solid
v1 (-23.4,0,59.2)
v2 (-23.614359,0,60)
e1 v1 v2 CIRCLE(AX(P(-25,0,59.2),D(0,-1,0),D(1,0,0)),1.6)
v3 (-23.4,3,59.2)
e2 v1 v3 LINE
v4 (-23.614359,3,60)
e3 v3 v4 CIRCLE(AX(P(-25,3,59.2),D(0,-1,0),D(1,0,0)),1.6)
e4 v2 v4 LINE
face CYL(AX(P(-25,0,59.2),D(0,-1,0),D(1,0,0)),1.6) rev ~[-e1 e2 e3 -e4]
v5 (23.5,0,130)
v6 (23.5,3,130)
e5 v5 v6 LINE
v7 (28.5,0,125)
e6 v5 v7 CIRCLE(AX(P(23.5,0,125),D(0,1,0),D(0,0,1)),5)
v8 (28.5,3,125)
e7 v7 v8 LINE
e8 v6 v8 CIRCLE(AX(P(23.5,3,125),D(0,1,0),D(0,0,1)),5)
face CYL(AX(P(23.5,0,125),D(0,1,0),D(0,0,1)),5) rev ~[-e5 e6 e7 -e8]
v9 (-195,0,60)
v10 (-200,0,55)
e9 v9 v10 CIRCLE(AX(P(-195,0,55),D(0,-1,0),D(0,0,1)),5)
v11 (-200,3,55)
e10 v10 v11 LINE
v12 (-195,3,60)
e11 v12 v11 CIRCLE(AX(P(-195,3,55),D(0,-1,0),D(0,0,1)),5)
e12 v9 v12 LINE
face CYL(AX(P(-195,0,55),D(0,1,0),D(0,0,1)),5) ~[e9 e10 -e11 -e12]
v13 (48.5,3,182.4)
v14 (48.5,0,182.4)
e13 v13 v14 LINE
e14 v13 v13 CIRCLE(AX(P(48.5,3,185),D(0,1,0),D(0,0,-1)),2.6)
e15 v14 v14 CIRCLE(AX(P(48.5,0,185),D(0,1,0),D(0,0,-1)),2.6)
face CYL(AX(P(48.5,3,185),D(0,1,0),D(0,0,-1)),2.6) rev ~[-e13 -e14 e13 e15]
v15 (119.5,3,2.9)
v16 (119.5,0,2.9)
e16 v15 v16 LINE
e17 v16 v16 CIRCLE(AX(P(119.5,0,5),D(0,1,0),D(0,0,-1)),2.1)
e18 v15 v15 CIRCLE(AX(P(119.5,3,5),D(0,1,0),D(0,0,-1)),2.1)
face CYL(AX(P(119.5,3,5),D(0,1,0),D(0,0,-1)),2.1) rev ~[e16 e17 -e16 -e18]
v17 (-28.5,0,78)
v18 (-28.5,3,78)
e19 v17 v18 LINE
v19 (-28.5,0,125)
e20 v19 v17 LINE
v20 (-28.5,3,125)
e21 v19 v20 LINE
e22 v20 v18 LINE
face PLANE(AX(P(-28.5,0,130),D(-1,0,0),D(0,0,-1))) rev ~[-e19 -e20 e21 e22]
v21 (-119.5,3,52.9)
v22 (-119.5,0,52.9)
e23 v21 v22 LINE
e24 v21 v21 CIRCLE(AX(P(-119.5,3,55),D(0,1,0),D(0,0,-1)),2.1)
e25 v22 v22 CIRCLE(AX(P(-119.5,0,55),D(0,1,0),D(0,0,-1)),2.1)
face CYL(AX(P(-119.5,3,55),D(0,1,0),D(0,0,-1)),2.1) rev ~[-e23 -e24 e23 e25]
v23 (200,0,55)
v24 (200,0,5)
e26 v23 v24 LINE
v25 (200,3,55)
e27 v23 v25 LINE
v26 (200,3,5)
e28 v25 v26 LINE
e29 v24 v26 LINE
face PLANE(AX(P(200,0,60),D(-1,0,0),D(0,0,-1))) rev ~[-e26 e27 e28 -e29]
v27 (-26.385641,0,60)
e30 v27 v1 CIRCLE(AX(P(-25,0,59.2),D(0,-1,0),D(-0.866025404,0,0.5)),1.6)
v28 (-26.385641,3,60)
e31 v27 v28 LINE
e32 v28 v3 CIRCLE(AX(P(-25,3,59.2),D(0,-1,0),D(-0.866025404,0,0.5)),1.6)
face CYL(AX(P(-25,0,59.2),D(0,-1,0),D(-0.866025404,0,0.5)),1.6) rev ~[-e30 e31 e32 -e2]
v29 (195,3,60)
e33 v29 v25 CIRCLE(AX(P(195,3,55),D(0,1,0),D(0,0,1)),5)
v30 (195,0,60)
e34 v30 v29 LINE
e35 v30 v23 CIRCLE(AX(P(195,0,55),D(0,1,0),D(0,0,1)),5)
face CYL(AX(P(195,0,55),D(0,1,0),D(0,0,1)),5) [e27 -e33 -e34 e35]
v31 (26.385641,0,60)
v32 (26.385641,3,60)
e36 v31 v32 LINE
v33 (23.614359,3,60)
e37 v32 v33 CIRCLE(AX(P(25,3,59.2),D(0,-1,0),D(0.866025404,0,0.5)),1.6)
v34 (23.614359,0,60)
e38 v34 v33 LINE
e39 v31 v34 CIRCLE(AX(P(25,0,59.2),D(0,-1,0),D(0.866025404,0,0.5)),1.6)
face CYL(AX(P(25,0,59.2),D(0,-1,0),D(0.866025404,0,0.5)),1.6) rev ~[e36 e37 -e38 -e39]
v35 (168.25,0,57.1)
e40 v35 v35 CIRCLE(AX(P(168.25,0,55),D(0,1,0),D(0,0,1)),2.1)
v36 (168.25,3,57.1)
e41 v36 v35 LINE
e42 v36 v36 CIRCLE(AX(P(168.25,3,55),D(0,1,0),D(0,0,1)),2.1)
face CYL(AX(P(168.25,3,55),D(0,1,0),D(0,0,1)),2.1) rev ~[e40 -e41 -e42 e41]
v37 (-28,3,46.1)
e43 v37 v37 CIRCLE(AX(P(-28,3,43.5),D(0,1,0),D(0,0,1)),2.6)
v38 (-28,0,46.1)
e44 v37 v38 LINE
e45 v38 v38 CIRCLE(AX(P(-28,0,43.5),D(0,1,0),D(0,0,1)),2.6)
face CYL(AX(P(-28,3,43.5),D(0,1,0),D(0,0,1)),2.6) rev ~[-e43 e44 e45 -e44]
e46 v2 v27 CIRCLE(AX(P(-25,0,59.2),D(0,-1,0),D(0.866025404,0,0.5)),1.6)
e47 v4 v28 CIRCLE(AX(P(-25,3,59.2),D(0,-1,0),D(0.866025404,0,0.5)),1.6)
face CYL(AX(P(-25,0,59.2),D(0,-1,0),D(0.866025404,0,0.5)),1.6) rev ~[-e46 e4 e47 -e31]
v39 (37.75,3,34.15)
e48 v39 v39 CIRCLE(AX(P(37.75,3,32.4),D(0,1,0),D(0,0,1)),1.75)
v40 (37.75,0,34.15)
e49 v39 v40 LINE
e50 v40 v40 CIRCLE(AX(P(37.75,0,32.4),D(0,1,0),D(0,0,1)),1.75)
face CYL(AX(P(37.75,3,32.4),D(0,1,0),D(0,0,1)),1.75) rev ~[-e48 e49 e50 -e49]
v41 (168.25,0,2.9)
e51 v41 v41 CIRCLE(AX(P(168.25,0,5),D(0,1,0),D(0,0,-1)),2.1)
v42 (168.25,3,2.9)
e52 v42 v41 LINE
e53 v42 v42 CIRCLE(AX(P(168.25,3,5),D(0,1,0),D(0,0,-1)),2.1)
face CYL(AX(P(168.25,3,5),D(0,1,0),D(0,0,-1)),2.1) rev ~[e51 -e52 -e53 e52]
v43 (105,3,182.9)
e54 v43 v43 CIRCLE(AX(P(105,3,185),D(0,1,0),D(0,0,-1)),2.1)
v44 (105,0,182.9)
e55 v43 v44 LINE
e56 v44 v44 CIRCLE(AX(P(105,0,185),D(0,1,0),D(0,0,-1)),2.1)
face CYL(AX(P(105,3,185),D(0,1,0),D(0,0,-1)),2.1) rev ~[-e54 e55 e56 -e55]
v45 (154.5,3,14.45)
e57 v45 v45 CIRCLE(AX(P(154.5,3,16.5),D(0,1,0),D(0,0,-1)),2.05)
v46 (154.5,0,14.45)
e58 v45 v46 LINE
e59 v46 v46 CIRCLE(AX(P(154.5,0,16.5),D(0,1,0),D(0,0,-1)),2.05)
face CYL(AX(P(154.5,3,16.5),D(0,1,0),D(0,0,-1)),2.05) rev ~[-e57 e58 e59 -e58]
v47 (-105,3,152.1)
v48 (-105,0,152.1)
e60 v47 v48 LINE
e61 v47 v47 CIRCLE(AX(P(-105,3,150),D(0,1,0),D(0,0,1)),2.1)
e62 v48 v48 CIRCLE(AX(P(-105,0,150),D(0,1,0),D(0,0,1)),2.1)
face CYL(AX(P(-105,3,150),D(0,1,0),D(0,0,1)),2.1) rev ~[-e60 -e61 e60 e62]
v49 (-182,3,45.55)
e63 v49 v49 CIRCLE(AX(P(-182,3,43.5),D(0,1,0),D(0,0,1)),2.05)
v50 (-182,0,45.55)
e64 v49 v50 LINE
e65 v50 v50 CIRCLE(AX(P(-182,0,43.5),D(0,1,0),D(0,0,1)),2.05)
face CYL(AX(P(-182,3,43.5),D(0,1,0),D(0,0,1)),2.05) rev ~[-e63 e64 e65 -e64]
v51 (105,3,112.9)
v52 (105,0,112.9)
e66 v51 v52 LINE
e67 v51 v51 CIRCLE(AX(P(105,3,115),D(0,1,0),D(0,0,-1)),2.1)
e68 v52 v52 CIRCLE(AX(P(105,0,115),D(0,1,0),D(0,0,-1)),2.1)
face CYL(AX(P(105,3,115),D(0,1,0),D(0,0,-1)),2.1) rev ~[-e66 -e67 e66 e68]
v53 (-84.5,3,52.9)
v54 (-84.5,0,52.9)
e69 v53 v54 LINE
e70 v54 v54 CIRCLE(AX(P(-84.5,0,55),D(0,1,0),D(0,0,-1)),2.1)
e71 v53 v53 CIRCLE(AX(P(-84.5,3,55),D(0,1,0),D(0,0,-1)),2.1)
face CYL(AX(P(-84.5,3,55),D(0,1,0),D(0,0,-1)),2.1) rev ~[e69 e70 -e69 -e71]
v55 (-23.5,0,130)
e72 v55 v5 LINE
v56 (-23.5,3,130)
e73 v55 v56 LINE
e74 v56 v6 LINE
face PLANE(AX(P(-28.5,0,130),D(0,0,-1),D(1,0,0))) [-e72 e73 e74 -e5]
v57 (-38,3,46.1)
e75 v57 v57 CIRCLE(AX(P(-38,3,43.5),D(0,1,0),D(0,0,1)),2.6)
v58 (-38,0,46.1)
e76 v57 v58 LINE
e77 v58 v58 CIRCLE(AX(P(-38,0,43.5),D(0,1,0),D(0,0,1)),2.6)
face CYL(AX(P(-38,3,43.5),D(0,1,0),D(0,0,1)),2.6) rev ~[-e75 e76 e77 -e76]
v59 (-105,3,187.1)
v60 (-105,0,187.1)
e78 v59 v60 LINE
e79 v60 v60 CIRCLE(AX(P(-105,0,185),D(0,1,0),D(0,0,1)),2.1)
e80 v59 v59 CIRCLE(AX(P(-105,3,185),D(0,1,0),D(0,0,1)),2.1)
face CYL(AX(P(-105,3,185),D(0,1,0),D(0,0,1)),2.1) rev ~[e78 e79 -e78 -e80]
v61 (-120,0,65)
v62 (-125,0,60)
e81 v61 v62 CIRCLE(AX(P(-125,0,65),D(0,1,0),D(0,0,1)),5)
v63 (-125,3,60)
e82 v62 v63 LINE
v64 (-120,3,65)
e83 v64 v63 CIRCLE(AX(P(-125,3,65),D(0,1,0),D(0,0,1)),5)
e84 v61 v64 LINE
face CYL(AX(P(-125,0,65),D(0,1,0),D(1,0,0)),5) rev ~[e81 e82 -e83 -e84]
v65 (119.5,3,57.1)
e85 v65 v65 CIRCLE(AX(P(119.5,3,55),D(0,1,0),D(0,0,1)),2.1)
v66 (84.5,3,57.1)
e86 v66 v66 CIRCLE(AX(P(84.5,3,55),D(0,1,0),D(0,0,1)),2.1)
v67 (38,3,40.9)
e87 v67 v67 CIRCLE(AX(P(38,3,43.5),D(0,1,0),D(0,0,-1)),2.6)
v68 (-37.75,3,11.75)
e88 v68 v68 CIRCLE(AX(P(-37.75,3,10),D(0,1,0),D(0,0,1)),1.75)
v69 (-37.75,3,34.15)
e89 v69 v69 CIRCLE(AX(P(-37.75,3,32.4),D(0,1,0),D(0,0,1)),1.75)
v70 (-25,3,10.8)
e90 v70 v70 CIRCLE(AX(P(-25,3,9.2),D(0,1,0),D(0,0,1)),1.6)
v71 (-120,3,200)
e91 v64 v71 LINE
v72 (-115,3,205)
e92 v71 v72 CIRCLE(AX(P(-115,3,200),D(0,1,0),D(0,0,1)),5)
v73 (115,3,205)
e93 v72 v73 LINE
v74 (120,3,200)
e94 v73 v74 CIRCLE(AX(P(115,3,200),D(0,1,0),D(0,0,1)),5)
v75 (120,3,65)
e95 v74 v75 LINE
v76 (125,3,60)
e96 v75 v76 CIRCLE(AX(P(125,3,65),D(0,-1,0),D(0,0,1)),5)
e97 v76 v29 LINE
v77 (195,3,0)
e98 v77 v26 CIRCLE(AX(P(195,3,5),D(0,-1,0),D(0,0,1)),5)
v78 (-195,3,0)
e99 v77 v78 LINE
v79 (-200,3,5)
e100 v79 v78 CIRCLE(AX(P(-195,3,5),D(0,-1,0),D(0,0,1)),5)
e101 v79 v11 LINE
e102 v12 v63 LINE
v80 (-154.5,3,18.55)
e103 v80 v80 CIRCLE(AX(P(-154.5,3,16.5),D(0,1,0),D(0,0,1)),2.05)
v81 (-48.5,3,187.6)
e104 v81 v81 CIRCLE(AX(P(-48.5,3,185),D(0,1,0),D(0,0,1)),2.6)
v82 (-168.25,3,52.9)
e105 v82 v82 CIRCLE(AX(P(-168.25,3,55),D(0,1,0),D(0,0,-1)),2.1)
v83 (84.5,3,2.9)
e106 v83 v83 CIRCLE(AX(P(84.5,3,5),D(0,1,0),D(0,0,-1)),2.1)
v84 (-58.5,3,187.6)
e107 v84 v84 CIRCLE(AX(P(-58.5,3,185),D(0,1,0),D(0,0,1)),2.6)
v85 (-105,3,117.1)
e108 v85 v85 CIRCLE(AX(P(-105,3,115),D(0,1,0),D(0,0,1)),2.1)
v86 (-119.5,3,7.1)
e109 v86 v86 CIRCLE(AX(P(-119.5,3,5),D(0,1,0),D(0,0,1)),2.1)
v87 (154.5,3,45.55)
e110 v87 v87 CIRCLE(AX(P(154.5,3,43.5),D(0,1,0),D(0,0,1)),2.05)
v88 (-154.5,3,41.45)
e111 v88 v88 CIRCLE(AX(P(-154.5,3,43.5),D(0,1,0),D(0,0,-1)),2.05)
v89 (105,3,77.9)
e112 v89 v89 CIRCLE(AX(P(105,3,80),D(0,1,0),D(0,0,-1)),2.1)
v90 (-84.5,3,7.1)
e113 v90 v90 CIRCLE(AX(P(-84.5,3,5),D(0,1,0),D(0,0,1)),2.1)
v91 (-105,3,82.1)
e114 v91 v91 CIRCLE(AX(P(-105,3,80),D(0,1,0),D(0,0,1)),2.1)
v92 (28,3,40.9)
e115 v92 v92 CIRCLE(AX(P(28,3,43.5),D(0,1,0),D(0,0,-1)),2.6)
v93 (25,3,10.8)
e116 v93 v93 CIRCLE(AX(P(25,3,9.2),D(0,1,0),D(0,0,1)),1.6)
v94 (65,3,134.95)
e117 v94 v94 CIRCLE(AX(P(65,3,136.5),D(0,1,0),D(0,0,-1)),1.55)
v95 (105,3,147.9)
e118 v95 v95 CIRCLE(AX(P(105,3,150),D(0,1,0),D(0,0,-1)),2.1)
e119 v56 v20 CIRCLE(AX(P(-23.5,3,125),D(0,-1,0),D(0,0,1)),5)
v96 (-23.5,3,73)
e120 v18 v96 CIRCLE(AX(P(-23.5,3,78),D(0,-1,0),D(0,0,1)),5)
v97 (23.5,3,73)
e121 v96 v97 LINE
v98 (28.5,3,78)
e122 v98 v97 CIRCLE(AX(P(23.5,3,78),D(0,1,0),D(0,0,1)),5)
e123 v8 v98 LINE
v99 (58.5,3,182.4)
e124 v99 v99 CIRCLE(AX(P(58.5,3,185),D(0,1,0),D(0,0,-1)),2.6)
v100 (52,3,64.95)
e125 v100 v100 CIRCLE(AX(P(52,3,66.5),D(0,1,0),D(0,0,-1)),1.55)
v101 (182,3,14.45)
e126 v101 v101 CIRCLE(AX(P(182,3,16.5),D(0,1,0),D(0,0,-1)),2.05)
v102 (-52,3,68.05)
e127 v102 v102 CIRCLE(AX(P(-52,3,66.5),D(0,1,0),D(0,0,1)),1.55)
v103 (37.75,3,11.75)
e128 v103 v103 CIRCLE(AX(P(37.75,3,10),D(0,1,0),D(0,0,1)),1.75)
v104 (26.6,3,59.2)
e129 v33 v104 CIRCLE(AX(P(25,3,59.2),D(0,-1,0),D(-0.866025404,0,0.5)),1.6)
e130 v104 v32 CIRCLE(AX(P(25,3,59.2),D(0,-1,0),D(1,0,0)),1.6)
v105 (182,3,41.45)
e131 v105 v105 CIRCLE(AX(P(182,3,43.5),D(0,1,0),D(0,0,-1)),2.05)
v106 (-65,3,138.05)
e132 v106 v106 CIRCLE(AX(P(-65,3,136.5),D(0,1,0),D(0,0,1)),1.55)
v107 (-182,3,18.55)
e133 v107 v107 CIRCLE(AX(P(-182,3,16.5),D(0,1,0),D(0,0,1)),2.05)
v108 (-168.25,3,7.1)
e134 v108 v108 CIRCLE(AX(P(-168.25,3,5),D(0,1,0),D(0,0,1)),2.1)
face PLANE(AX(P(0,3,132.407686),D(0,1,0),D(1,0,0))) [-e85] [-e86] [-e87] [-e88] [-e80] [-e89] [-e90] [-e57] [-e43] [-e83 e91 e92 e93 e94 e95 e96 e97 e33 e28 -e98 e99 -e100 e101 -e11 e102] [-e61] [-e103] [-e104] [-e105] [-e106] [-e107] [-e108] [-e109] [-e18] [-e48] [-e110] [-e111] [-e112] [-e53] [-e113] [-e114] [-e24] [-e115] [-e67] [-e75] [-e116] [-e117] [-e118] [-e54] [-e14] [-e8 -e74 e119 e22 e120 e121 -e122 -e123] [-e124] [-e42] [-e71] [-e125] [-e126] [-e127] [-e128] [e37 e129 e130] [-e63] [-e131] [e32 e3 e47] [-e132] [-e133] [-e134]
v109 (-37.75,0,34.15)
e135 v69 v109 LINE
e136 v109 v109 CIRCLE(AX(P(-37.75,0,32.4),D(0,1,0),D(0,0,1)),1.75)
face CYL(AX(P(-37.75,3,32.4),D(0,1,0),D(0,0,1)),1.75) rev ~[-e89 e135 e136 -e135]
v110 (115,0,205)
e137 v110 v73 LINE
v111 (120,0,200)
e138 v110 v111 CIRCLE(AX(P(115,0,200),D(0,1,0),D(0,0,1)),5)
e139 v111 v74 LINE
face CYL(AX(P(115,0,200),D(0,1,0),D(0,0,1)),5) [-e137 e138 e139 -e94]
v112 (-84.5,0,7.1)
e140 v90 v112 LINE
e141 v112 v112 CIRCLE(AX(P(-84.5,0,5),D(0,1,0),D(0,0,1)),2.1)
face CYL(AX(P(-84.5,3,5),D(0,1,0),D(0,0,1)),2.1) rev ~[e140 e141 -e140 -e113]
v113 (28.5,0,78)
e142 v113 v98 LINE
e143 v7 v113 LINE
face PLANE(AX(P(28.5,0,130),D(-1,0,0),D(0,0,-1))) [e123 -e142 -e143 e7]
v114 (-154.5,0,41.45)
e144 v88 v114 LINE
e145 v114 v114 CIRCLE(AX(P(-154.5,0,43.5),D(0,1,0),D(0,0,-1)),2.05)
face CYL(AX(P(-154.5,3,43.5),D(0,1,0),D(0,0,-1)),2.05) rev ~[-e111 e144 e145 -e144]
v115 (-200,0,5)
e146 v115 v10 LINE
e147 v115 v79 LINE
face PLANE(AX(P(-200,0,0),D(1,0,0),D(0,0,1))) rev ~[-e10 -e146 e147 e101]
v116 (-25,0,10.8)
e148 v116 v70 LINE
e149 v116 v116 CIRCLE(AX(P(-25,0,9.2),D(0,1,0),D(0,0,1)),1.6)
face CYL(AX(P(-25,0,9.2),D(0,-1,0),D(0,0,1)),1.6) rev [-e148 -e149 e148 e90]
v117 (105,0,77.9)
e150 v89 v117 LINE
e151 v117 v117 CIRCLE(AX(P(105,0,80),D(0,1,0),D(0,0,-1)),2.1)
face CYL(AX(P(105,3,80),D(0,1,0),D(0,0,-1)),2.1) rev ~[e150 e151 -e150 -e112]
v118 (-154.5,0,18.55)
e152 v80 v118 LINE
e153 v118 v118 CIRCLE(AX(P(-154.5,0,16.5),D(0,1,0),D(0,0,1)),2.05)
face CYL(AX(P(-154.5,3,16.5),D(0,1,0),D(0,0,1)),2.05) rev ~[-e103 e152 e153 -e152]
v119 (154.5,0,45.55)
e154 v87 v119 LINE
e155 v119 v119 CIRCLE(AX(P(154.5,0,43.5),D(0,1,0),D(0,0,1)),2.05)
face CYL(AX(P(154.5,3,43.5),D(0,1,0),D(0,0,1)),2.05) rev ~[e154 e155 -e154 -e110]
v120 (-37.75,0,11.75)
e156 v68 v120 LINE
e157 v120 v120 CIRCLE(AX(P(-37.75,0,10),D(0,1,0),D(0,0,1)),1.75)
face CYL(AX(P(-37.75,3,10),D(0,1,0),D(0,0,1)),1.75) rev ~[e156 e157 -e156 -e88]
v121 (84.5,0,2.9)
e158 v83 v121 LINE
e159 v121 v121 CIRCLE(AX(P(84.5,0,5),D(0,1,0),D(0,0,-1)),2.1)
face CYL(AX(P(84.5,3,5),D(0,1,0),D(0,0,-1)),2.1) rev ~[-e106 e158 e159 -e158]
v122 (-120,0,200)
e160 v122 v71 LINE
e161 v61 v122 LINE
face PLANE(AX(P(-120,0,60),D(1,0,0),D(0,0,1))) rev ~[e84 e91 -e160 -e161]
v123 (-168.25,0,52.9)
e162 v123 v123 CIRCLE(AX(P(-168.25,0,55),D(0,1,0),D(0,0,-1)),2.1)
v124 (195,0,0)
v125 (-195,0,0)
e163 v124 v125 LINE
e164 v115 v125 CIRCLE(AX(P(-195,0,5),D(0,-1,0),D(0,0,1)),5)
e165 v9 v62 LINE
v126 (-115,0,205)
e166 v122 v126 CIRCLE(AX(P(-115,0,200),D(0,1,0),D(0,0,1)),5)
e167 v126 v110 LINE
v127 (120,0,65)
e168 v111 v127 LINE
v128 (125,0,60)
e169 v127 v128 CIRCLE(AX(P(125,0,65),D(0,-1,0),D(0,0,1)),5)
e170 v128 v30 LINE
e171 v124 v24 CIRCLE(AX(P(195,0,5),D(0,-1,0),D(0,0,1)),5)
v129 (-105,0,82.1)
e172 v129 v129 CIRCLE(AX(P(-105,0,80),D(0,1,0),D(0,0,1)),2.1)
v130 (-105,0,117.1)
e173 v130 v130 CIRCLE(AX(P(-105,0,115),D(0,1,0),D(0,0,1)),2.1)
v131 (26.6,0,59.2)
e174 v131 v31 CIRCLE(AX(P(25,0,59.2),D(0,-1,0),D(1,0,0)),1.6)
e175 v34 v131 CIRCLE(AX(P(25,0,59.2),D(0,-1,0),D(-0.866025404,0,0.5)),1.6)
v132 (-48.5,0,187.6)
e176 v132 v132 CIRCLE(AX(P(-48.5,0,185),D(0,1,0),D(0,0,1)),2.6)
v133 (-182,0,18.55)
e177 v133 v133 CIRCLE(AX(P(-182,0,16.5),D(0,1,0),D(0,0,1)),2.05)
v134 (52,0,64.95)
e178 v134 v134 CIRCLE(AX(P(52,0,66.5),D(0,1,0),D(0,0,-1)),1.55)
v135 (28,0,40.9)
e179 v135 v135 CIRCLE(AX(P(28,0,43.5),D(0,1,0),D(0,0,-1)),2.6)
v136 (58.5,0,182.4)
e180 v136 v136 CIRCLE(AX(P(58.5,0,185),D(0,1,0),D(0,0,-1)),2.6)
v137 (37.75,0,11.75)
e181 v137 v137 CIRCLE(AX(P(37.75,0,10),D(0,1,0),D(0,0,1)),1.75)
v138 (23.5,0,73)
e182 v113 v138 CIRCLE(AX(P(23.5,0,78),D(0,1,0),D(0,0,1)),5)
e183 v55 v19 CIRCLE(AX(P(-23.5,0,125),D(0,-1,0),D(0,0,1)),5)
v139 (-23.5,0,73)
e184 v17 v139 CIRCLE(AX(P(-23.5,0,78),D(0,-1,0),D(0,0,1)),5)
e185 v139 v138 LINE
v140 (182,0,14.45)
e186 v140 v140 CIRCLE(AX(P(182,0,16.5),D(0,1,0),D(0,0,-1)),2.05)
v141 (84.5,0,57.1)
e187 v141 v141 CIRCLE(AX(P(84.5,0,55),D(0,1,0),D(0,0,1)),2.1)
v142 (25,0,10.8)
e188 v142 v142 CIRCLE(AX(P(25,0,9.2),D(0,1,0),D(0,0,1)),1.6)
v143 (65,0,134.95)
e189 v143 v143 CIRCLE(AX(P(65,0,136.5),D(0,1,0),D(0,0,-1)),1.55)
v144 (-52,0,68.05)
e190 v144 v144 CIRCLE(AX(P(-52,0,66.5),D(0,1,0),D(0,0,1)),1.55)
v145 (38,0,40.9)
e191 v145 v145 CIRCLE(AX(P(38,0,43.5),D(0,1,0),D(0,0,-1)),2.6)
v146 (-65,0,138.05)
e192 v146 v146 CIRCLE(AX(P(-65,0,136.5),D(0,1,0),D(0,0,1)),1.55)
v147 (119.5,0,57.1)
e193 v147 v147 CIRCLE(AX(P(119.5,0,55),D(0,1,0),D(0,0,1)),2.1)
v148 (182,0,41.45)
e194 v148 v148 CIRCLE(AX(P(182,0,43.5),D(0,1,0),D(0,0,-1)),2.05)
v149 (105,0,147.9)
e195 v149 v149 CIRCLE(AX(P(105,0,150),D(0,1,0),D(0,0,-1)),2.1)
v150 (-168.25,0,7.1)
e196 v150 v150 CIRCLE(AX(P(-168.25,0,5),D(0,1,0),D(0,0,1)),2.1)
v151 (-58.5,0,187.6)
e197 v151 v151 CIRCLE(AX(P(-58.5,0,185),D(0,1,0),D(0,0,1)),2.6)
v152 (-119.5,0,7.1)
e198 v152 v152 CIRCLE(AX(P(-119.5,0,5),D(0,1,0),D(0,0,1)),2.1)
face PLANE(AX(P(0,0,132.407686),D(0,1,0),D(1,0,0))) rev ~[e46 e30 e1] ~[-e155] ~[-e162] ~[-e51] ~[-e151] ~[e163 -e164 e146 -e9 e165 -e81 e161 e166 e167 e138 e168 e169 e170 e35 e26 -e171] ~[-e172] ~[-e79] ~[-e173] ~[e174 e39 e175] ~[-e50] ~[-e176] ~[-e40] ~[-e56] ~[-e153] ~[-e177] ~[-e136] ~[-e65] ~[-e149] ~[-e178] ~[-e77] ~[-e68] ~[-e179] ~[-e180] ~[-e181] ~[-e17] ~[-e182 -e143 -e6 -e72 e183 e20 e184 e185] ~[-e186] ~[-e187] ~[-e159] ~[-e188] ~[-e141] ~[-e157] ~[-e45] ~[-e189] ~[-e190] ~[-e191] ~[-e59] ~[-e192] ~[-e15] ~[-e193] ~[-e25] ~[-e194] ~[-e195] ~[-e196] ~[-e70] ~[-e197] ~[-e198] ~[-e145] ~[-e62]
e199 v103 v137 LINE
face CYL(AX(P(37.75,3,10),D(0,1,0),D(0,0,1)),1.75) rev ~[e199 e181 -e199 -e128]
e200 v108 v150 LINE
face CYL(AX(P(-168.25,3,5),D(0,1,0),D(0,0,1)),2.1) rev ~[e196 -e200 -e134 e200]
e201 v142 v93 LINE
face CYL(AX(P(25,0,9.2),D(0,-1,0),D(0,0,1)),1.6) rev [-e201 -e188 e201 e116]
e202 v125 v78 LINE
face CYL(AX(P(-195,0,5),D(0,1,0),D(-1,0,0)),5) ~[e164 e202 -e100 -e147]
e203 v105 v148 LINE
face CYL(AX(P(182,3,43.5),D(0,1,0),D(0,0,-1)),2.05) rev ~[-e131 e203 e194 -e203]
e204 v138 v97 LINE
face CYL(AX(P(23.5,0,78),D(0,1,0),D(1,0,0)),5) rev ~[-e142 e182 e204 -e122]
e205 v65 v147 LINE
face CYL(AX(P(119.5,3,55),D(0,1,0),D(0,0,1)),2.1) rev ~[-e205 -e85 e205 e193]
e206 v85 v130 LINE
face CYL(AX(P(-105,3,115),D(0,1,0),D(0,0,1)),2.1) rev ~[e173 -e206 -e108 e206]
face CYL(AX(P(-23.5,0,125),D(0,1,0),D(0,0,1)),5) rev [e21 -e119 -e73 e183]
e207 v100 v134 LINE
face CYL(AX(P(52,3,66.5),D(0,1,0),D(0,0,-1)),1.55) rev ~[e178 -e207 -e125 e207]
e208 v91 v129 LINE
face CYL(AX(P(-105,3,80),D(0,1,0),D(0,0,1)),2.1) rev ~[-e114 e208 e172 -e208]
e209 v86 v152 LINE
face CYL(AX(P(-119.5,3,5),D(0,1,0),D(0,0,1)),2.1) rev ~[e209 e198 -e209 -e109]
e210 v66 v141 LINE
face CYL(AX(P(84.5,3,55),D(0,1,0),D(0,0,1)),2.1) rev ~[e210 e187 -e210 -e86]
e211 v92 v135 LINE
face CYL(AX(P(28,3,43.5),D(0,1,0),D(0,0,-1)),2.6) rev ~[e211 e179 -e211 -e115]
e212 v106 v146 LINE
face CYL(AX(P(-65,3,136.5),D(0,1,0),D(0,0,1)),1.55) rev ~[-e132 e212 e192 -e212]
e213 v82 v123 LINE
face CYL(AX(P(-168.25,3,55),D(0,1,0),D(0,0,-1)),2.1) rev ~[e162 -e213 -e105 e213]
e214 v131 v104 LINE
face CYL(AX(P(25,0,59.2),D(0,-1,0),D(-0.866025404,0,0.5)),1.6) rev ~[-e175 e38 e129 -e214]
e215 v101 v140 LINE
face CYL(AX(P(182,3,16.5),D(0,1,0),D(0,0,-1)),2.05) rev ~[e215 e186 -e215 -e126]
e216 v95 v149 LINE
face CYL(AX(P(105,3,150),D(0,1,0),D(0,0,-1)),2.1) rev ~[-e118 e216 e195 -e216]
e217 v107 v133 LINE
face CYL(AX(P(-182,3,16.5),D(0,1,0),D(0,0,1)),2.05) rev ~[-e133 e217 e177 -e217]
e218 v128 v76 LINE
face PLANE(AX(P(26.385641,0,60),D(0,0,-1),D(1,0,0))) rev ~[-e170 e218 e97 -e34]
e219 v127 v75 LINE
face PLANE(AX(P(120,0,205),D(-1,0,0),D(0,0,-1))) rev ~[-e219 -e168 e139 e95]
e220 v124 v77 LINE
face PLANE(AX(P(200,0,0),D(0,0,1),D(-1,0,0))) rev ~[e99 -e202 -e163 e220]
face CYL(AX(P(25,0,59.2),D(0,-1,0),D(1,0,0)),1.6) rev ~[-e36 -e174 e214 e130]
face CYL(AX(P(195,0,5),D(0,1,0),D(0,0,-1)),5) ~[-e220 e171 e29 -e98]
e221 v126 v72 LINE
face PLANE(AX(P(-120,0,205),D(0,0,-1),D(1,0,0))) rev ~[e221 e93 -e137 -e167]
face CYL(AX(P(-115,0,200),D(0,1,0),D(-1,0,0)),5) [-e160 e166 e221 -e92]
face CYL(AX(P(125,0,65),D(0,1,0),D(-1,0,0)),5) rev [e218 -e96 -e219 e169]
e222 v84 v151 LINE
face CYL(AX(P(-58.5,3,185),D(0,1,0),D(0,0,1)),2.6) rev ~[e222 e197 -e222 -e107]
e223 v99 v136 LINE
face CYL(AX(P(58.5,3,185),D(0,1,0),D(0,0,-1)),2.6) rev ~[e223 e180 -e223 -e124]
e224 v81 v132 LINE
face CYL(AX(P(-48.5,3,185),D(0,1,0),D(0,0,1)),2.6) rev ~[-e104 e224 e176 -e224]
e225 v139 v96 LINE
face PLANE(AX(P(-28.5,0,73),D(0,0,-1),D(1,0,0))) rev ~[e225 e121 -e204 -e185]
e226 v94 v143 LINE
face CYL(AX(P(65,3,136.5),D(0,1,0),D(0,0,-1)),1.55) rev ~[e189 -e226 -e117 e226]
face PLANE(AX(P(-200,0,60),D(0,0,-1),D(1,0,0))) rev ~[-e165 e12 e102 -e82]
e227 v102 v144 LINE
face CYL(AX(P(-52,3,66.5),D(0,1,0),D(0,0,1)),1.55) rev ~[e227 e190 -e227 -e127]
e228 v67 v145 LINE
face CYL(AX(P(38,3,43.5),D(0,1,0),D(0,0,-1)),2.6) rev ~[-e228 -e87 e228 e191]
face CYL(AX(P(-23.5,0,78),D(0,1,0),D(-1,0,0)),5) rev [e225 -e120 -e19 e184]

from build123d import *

# Parameters (mm, degrees)
SKETCH_1_R          = 1.6
SKETCH_1_W          = 57
SKETCH_1_H          = 57
EXTRUDE_1451_DEPTH  = 3
SKETCH_2_R          = 2.05
SKETCH_2_R_2        = 2.1
CUT_EXTRUDE_1_DEPTH = 287.415781688
FILLET_1_R          = 5
SKETCH_3_R          = 2.1
SKETCH_3_R_2        = 1.55
SKETCH_3_R_3        = 2.6
CUT_EXTRUDE_2_DEPTH = 287.415781688
SKETCH_4_R          = 1.75
CUT_EXTRUDE_3_DEPTH = 10


with BuildPart() as part:
    # 草图1 → Extrude 1451 (new body)
    # profile 1 of 2: a face of its own
    with BuildSketch(Plane(origin=(0, 0, 0), x_dir=(1, 0, 0), z_dir=(0, 1, 0))):
        with BuildLine():
            Line((-200, 0), (-200, -60))
            Line((-200, -60), (-120, -60))
            Line((-120, -60), (-26.385640646, -60))
            ThreePointArc((-26.385640646, -60), (-25.414110472, -57.654518678), (-23.4, -59.2))
            ThreePointArc((-23.4, -59.2), (-23.454518678, -59.614110472), (-23.614359354, -60))
            Line((-23.614359354, -60), (23.614359354, -60))
            ThreePointArc((23.614359354, -60), (24.585889528, -57.654518678), (26.6, -59.2))
            ThreePointArc((26.6, -59.2), (26.545481322, -59.614110472), (26.385640646, -60))
            Line((26.385640646, -60), (120, -60))
            Line((120, -60), (200, -60))
            Line((200, -60), (200, 0))
            Line((200, 0), (-200, 0))
        make_face()
        with Locations(Location((-25, -9.2, 0), (0, 0, 270))):
            Circle(SKETCH_1_R, mode=Mode.SUBTRACT)
        with Locations(Location((25, -9.2, 0), (0, 0, 270))):
            Circle(SKETCH_1_R, mode=Mode.SUBTRACT)
    # profile 2 of 2: a face of its own
    with BuildSketch(Plane(origin=(0, 0, 0), x_dir=(1, 0, 0), z_dir=(0, 1, 0))):
        with BuildLine():
            Line((-26.385640646, -60), (-120, -60))
            Line((-120, -60), (-120, -205))
            Line((-120, -205), (120, -205))
            Line((120, -205), (120, -60))
            Line((120, -60), (26.385640646, -60))
            ThreePointArc((26.385640646, -60), (25, -60.8), (23.614359354, -60))
            Line((23.614359354, -60), (-23.614359354, -60))
            ThreePointArc((-23.614359354, -60), (-25, -60.8), (-26.385640646, -60))
        make_face()
        with Locations((0, -101.5)):
            Rectangle(SKETCH_1_W, SKETCH_1_H, mode=Mode.SUBTRACT)
    extrude(amount=EXTRUDE_1451_DEPTH)

    # 草图2 → 切除-拉伸1 (cut, through all)
    with BuildSketch(Plane(origin=(0, 3, 0), x_dir=(1, 0, 0), z_dir=(0, 1, 0))):
        with Locations(Location((-182, -16.5, 0), (0, 0, 270))):
            Circle(SKETCH_2_R)
        with Locations(Location((-182, -43.5, 0), (0, 0, 270))):
            Circle(SKETCH_2_R)
        with Locations(Location((-154.5, -16.5, 0), (0, 0, 270))):
            Circle(SKETCH_2_R)
        with Locations(Location((-154.5, -43.5, 0), (0, 0, 90))):
            Circle(SKETCH_2_R)
        with Locations(Location((-84.5, -5, 0), (0, 0, 270))):
            Circle(SKETCH_2_R_2)
        with Locations(Location((-119.5, -5, 0), (0, 0, 270))):
            Circle(SKETCH_2_R_2)
        with Locations(Location((-84.5, -55, 0), (0, 0, 90))):
            Circle(SKETCH_2_R_2)
        with Locations(Location((-119.5, -55, 0), (0, 0, 90))):
            Circle(SKETCH_2_R_2)
        with Locations(Location((-168.25, -5, 0), (0, 0, 270))):
            Circle(SKETCH_2_R_2)
        with Locations(Location((-168.25, -55, 0), (0, 0, 90))):
            Circle(SKETCH_2_R_2)
        with Locations(Location((168.25, -55, 0), (0, 0, 270))):
            Circle(SKETCH_2_R_2)
        with Locations(Location((168.25, -5, 0), (0, 0, 90))):
            Circle(SKETCH_2_R_2)
        with Locations(Location((119.5, -55, 0), (0, 0, 270))):
            Circle(SKETCH_2_R_2)
        with Locations(Location((84.5, -55, 0), (0, 0, 270))):
            Circle(SKETCH_2_R_2)
        with Locations(Location((119.5, -5, 0), (0, 0, 90))):
            Circle(SKETCH_2_R_2)
        with Locations(Location((84.5, -5, 0), (0, 0, 90))):
            Circle(SKETCH_2_R_2)
        with Locations(Location((154.5, -43.5, 0), (0, 0, 270))):
            Circle(SKETCH_2_R)
        with Locations(Location((154.5, -16.5, 0), (0, 0, 90))):
            Circle(SKETCH_2_R)
        with Locations(Location((182, -43.5, 0), (0, 0, 90))):
            Circle(SKETCH_2_R)
        with Locations(Location((182, -16.5, 0), (0, 0, 90))):
            Circle(SKETCH_2_R)
    extrude(amount=-CUT_EXTRUDE_1_DEPTH, mode=Mode.SUBTRACT)

    # 圆角1
    fillet_1_edges = [part.edges().sort_by_distance(p)[0] for p in [
        (-28.5, 1.5, 73),
        (-28.5, 1.5, 130),
        (28.5, 1.5, 130),
        (28.5, 1.5, 73),
        (120, 1.5, 205),
        (-120, 1.5, 205),
        (-120, 1.5, 60),
        (-200, 1.5, 60),
        (-200, 1.5, 0),
        (200, 1.5, 0),
        (200, 1.5, 60),
        (120, 1.5, 60),
    ]]
    fillet(fillet_1_edges, radius=FILLET_1_R)

    # 草图3 → 切除-拉伸2 (cut, through all)
    with BuildSketch(Plane(origin=(0, 3, 0), x_dir=(1, 0, 0), z_dir=(0, 1, 0))):
        with Locations(Location((-105, -80, 0), (0, 0, 270))):
            Circle(SKETCH_3_R)
        with Locations(Location((-105, -115, 0), (0, 0, 270))):
            Circle(SKETCH_3_R)
        with Locations(Location((-105, -150, 0), (0, 0, 270))):
            Circle(SKETCH_3_R)
        with Locations(Location((-105, -185, 0), (0, 0, 270))):
            Circle(SKETCH_3_R)
        with Locations(Location((105, -185, 0), (0, 0, 90))):
            Circle(SKETCH_3_R)
        with Locations(Location((105, -150, 0), (0, 0, 90))):
            Circle(SKETCH_3_R)
        with Locations(Location((105, -115, 0), (0, 0, 90))):
            Circle(SKETCH_3_R)
        with Locations(Location((105, -80, 0), (0, 0, 90))):
            Circle(SKETCH_3_R)
        with Locations(Location((-52, -66.5, 0), (0, 0, 270))):
            Circle(SKETCH_3_R_2)
        with Locations(Location((-65, -136.5, 0), (0, 0, 270))):
            Circle(SKETCH_3_R_2)
        with Locations(Location((65, -136.5, 0), (0, 0, 90))):
            Circle(SKETCH_3_R_2)
        with Locations(Location((52, -66.5, 0), (0, 0, 90))):
            Circle(SKETCH_3_R_2)
        with Locations(Location((-38, -43.5, 0), (0, 0, 270))):
            Circle(SKETCH_3_R_3)
        with Locations(Location((-28, -43.5, 0), (0, 0, 270))):
            Circle(SKETCH_3_R_3)
        with Locations(Location((28, -43.5, 0), (0, 0, 90))):
            Circle(SKETCH_3_R_3)
        with Locations(Location((38, -43.5, 0), (0, 0, 90))):
            Circle(SKETCH_3_R_3)
        with Locations(Location((-58.5, -185, 0), (0, 0, 270))):
            Circle(SKETCH_3_R_3)
        with Locations(Location((-48.5, -185, 0), (0, 0, 270))):
            Circle(SKETCH_3_R_3)
        with Locations(Location((48.5, -185, 0), (0, 0, 90))):
            Circle(SKETCH_3_R_3)
        with Locations(Location((58.5, -185, 0), (0, 0, 90))):
            Circle(SKETCH_3_R_3)
    extrude(amount=-CUT_EXTRUDE_2_DEPTH, mode=Mode.SUBTRACT)

    # 草图4 → 切除-拉伸3 (cut)
    with BuildSketch(Plane(origin=(0, 3, 0), x_dir=(1, 0, 0), z_dir=(0, 1, 0))):
        with Locations(Location((-37.75, -10, 0), (0, 0, 270))):
            Circle(SKETCH_4_R)
        with Locations(Location((37.75, -10, 0), (0, 0, 270))):
            Circle(SKETCH_4_R)
        with Locations(Location((-37.75, -32.4, 0), (0, 0, 270))):
            Circle(SKETCH_4_R)
        with Locations(Location((37.75, -32.4, 0), (0, 0, 270))):
            Circle(SKETCH_4_R)
    extrude(amount=-CUT_EXTRUDE_3_DEPTH, mode=Mode.SUBTRACT)


solid = part.part
